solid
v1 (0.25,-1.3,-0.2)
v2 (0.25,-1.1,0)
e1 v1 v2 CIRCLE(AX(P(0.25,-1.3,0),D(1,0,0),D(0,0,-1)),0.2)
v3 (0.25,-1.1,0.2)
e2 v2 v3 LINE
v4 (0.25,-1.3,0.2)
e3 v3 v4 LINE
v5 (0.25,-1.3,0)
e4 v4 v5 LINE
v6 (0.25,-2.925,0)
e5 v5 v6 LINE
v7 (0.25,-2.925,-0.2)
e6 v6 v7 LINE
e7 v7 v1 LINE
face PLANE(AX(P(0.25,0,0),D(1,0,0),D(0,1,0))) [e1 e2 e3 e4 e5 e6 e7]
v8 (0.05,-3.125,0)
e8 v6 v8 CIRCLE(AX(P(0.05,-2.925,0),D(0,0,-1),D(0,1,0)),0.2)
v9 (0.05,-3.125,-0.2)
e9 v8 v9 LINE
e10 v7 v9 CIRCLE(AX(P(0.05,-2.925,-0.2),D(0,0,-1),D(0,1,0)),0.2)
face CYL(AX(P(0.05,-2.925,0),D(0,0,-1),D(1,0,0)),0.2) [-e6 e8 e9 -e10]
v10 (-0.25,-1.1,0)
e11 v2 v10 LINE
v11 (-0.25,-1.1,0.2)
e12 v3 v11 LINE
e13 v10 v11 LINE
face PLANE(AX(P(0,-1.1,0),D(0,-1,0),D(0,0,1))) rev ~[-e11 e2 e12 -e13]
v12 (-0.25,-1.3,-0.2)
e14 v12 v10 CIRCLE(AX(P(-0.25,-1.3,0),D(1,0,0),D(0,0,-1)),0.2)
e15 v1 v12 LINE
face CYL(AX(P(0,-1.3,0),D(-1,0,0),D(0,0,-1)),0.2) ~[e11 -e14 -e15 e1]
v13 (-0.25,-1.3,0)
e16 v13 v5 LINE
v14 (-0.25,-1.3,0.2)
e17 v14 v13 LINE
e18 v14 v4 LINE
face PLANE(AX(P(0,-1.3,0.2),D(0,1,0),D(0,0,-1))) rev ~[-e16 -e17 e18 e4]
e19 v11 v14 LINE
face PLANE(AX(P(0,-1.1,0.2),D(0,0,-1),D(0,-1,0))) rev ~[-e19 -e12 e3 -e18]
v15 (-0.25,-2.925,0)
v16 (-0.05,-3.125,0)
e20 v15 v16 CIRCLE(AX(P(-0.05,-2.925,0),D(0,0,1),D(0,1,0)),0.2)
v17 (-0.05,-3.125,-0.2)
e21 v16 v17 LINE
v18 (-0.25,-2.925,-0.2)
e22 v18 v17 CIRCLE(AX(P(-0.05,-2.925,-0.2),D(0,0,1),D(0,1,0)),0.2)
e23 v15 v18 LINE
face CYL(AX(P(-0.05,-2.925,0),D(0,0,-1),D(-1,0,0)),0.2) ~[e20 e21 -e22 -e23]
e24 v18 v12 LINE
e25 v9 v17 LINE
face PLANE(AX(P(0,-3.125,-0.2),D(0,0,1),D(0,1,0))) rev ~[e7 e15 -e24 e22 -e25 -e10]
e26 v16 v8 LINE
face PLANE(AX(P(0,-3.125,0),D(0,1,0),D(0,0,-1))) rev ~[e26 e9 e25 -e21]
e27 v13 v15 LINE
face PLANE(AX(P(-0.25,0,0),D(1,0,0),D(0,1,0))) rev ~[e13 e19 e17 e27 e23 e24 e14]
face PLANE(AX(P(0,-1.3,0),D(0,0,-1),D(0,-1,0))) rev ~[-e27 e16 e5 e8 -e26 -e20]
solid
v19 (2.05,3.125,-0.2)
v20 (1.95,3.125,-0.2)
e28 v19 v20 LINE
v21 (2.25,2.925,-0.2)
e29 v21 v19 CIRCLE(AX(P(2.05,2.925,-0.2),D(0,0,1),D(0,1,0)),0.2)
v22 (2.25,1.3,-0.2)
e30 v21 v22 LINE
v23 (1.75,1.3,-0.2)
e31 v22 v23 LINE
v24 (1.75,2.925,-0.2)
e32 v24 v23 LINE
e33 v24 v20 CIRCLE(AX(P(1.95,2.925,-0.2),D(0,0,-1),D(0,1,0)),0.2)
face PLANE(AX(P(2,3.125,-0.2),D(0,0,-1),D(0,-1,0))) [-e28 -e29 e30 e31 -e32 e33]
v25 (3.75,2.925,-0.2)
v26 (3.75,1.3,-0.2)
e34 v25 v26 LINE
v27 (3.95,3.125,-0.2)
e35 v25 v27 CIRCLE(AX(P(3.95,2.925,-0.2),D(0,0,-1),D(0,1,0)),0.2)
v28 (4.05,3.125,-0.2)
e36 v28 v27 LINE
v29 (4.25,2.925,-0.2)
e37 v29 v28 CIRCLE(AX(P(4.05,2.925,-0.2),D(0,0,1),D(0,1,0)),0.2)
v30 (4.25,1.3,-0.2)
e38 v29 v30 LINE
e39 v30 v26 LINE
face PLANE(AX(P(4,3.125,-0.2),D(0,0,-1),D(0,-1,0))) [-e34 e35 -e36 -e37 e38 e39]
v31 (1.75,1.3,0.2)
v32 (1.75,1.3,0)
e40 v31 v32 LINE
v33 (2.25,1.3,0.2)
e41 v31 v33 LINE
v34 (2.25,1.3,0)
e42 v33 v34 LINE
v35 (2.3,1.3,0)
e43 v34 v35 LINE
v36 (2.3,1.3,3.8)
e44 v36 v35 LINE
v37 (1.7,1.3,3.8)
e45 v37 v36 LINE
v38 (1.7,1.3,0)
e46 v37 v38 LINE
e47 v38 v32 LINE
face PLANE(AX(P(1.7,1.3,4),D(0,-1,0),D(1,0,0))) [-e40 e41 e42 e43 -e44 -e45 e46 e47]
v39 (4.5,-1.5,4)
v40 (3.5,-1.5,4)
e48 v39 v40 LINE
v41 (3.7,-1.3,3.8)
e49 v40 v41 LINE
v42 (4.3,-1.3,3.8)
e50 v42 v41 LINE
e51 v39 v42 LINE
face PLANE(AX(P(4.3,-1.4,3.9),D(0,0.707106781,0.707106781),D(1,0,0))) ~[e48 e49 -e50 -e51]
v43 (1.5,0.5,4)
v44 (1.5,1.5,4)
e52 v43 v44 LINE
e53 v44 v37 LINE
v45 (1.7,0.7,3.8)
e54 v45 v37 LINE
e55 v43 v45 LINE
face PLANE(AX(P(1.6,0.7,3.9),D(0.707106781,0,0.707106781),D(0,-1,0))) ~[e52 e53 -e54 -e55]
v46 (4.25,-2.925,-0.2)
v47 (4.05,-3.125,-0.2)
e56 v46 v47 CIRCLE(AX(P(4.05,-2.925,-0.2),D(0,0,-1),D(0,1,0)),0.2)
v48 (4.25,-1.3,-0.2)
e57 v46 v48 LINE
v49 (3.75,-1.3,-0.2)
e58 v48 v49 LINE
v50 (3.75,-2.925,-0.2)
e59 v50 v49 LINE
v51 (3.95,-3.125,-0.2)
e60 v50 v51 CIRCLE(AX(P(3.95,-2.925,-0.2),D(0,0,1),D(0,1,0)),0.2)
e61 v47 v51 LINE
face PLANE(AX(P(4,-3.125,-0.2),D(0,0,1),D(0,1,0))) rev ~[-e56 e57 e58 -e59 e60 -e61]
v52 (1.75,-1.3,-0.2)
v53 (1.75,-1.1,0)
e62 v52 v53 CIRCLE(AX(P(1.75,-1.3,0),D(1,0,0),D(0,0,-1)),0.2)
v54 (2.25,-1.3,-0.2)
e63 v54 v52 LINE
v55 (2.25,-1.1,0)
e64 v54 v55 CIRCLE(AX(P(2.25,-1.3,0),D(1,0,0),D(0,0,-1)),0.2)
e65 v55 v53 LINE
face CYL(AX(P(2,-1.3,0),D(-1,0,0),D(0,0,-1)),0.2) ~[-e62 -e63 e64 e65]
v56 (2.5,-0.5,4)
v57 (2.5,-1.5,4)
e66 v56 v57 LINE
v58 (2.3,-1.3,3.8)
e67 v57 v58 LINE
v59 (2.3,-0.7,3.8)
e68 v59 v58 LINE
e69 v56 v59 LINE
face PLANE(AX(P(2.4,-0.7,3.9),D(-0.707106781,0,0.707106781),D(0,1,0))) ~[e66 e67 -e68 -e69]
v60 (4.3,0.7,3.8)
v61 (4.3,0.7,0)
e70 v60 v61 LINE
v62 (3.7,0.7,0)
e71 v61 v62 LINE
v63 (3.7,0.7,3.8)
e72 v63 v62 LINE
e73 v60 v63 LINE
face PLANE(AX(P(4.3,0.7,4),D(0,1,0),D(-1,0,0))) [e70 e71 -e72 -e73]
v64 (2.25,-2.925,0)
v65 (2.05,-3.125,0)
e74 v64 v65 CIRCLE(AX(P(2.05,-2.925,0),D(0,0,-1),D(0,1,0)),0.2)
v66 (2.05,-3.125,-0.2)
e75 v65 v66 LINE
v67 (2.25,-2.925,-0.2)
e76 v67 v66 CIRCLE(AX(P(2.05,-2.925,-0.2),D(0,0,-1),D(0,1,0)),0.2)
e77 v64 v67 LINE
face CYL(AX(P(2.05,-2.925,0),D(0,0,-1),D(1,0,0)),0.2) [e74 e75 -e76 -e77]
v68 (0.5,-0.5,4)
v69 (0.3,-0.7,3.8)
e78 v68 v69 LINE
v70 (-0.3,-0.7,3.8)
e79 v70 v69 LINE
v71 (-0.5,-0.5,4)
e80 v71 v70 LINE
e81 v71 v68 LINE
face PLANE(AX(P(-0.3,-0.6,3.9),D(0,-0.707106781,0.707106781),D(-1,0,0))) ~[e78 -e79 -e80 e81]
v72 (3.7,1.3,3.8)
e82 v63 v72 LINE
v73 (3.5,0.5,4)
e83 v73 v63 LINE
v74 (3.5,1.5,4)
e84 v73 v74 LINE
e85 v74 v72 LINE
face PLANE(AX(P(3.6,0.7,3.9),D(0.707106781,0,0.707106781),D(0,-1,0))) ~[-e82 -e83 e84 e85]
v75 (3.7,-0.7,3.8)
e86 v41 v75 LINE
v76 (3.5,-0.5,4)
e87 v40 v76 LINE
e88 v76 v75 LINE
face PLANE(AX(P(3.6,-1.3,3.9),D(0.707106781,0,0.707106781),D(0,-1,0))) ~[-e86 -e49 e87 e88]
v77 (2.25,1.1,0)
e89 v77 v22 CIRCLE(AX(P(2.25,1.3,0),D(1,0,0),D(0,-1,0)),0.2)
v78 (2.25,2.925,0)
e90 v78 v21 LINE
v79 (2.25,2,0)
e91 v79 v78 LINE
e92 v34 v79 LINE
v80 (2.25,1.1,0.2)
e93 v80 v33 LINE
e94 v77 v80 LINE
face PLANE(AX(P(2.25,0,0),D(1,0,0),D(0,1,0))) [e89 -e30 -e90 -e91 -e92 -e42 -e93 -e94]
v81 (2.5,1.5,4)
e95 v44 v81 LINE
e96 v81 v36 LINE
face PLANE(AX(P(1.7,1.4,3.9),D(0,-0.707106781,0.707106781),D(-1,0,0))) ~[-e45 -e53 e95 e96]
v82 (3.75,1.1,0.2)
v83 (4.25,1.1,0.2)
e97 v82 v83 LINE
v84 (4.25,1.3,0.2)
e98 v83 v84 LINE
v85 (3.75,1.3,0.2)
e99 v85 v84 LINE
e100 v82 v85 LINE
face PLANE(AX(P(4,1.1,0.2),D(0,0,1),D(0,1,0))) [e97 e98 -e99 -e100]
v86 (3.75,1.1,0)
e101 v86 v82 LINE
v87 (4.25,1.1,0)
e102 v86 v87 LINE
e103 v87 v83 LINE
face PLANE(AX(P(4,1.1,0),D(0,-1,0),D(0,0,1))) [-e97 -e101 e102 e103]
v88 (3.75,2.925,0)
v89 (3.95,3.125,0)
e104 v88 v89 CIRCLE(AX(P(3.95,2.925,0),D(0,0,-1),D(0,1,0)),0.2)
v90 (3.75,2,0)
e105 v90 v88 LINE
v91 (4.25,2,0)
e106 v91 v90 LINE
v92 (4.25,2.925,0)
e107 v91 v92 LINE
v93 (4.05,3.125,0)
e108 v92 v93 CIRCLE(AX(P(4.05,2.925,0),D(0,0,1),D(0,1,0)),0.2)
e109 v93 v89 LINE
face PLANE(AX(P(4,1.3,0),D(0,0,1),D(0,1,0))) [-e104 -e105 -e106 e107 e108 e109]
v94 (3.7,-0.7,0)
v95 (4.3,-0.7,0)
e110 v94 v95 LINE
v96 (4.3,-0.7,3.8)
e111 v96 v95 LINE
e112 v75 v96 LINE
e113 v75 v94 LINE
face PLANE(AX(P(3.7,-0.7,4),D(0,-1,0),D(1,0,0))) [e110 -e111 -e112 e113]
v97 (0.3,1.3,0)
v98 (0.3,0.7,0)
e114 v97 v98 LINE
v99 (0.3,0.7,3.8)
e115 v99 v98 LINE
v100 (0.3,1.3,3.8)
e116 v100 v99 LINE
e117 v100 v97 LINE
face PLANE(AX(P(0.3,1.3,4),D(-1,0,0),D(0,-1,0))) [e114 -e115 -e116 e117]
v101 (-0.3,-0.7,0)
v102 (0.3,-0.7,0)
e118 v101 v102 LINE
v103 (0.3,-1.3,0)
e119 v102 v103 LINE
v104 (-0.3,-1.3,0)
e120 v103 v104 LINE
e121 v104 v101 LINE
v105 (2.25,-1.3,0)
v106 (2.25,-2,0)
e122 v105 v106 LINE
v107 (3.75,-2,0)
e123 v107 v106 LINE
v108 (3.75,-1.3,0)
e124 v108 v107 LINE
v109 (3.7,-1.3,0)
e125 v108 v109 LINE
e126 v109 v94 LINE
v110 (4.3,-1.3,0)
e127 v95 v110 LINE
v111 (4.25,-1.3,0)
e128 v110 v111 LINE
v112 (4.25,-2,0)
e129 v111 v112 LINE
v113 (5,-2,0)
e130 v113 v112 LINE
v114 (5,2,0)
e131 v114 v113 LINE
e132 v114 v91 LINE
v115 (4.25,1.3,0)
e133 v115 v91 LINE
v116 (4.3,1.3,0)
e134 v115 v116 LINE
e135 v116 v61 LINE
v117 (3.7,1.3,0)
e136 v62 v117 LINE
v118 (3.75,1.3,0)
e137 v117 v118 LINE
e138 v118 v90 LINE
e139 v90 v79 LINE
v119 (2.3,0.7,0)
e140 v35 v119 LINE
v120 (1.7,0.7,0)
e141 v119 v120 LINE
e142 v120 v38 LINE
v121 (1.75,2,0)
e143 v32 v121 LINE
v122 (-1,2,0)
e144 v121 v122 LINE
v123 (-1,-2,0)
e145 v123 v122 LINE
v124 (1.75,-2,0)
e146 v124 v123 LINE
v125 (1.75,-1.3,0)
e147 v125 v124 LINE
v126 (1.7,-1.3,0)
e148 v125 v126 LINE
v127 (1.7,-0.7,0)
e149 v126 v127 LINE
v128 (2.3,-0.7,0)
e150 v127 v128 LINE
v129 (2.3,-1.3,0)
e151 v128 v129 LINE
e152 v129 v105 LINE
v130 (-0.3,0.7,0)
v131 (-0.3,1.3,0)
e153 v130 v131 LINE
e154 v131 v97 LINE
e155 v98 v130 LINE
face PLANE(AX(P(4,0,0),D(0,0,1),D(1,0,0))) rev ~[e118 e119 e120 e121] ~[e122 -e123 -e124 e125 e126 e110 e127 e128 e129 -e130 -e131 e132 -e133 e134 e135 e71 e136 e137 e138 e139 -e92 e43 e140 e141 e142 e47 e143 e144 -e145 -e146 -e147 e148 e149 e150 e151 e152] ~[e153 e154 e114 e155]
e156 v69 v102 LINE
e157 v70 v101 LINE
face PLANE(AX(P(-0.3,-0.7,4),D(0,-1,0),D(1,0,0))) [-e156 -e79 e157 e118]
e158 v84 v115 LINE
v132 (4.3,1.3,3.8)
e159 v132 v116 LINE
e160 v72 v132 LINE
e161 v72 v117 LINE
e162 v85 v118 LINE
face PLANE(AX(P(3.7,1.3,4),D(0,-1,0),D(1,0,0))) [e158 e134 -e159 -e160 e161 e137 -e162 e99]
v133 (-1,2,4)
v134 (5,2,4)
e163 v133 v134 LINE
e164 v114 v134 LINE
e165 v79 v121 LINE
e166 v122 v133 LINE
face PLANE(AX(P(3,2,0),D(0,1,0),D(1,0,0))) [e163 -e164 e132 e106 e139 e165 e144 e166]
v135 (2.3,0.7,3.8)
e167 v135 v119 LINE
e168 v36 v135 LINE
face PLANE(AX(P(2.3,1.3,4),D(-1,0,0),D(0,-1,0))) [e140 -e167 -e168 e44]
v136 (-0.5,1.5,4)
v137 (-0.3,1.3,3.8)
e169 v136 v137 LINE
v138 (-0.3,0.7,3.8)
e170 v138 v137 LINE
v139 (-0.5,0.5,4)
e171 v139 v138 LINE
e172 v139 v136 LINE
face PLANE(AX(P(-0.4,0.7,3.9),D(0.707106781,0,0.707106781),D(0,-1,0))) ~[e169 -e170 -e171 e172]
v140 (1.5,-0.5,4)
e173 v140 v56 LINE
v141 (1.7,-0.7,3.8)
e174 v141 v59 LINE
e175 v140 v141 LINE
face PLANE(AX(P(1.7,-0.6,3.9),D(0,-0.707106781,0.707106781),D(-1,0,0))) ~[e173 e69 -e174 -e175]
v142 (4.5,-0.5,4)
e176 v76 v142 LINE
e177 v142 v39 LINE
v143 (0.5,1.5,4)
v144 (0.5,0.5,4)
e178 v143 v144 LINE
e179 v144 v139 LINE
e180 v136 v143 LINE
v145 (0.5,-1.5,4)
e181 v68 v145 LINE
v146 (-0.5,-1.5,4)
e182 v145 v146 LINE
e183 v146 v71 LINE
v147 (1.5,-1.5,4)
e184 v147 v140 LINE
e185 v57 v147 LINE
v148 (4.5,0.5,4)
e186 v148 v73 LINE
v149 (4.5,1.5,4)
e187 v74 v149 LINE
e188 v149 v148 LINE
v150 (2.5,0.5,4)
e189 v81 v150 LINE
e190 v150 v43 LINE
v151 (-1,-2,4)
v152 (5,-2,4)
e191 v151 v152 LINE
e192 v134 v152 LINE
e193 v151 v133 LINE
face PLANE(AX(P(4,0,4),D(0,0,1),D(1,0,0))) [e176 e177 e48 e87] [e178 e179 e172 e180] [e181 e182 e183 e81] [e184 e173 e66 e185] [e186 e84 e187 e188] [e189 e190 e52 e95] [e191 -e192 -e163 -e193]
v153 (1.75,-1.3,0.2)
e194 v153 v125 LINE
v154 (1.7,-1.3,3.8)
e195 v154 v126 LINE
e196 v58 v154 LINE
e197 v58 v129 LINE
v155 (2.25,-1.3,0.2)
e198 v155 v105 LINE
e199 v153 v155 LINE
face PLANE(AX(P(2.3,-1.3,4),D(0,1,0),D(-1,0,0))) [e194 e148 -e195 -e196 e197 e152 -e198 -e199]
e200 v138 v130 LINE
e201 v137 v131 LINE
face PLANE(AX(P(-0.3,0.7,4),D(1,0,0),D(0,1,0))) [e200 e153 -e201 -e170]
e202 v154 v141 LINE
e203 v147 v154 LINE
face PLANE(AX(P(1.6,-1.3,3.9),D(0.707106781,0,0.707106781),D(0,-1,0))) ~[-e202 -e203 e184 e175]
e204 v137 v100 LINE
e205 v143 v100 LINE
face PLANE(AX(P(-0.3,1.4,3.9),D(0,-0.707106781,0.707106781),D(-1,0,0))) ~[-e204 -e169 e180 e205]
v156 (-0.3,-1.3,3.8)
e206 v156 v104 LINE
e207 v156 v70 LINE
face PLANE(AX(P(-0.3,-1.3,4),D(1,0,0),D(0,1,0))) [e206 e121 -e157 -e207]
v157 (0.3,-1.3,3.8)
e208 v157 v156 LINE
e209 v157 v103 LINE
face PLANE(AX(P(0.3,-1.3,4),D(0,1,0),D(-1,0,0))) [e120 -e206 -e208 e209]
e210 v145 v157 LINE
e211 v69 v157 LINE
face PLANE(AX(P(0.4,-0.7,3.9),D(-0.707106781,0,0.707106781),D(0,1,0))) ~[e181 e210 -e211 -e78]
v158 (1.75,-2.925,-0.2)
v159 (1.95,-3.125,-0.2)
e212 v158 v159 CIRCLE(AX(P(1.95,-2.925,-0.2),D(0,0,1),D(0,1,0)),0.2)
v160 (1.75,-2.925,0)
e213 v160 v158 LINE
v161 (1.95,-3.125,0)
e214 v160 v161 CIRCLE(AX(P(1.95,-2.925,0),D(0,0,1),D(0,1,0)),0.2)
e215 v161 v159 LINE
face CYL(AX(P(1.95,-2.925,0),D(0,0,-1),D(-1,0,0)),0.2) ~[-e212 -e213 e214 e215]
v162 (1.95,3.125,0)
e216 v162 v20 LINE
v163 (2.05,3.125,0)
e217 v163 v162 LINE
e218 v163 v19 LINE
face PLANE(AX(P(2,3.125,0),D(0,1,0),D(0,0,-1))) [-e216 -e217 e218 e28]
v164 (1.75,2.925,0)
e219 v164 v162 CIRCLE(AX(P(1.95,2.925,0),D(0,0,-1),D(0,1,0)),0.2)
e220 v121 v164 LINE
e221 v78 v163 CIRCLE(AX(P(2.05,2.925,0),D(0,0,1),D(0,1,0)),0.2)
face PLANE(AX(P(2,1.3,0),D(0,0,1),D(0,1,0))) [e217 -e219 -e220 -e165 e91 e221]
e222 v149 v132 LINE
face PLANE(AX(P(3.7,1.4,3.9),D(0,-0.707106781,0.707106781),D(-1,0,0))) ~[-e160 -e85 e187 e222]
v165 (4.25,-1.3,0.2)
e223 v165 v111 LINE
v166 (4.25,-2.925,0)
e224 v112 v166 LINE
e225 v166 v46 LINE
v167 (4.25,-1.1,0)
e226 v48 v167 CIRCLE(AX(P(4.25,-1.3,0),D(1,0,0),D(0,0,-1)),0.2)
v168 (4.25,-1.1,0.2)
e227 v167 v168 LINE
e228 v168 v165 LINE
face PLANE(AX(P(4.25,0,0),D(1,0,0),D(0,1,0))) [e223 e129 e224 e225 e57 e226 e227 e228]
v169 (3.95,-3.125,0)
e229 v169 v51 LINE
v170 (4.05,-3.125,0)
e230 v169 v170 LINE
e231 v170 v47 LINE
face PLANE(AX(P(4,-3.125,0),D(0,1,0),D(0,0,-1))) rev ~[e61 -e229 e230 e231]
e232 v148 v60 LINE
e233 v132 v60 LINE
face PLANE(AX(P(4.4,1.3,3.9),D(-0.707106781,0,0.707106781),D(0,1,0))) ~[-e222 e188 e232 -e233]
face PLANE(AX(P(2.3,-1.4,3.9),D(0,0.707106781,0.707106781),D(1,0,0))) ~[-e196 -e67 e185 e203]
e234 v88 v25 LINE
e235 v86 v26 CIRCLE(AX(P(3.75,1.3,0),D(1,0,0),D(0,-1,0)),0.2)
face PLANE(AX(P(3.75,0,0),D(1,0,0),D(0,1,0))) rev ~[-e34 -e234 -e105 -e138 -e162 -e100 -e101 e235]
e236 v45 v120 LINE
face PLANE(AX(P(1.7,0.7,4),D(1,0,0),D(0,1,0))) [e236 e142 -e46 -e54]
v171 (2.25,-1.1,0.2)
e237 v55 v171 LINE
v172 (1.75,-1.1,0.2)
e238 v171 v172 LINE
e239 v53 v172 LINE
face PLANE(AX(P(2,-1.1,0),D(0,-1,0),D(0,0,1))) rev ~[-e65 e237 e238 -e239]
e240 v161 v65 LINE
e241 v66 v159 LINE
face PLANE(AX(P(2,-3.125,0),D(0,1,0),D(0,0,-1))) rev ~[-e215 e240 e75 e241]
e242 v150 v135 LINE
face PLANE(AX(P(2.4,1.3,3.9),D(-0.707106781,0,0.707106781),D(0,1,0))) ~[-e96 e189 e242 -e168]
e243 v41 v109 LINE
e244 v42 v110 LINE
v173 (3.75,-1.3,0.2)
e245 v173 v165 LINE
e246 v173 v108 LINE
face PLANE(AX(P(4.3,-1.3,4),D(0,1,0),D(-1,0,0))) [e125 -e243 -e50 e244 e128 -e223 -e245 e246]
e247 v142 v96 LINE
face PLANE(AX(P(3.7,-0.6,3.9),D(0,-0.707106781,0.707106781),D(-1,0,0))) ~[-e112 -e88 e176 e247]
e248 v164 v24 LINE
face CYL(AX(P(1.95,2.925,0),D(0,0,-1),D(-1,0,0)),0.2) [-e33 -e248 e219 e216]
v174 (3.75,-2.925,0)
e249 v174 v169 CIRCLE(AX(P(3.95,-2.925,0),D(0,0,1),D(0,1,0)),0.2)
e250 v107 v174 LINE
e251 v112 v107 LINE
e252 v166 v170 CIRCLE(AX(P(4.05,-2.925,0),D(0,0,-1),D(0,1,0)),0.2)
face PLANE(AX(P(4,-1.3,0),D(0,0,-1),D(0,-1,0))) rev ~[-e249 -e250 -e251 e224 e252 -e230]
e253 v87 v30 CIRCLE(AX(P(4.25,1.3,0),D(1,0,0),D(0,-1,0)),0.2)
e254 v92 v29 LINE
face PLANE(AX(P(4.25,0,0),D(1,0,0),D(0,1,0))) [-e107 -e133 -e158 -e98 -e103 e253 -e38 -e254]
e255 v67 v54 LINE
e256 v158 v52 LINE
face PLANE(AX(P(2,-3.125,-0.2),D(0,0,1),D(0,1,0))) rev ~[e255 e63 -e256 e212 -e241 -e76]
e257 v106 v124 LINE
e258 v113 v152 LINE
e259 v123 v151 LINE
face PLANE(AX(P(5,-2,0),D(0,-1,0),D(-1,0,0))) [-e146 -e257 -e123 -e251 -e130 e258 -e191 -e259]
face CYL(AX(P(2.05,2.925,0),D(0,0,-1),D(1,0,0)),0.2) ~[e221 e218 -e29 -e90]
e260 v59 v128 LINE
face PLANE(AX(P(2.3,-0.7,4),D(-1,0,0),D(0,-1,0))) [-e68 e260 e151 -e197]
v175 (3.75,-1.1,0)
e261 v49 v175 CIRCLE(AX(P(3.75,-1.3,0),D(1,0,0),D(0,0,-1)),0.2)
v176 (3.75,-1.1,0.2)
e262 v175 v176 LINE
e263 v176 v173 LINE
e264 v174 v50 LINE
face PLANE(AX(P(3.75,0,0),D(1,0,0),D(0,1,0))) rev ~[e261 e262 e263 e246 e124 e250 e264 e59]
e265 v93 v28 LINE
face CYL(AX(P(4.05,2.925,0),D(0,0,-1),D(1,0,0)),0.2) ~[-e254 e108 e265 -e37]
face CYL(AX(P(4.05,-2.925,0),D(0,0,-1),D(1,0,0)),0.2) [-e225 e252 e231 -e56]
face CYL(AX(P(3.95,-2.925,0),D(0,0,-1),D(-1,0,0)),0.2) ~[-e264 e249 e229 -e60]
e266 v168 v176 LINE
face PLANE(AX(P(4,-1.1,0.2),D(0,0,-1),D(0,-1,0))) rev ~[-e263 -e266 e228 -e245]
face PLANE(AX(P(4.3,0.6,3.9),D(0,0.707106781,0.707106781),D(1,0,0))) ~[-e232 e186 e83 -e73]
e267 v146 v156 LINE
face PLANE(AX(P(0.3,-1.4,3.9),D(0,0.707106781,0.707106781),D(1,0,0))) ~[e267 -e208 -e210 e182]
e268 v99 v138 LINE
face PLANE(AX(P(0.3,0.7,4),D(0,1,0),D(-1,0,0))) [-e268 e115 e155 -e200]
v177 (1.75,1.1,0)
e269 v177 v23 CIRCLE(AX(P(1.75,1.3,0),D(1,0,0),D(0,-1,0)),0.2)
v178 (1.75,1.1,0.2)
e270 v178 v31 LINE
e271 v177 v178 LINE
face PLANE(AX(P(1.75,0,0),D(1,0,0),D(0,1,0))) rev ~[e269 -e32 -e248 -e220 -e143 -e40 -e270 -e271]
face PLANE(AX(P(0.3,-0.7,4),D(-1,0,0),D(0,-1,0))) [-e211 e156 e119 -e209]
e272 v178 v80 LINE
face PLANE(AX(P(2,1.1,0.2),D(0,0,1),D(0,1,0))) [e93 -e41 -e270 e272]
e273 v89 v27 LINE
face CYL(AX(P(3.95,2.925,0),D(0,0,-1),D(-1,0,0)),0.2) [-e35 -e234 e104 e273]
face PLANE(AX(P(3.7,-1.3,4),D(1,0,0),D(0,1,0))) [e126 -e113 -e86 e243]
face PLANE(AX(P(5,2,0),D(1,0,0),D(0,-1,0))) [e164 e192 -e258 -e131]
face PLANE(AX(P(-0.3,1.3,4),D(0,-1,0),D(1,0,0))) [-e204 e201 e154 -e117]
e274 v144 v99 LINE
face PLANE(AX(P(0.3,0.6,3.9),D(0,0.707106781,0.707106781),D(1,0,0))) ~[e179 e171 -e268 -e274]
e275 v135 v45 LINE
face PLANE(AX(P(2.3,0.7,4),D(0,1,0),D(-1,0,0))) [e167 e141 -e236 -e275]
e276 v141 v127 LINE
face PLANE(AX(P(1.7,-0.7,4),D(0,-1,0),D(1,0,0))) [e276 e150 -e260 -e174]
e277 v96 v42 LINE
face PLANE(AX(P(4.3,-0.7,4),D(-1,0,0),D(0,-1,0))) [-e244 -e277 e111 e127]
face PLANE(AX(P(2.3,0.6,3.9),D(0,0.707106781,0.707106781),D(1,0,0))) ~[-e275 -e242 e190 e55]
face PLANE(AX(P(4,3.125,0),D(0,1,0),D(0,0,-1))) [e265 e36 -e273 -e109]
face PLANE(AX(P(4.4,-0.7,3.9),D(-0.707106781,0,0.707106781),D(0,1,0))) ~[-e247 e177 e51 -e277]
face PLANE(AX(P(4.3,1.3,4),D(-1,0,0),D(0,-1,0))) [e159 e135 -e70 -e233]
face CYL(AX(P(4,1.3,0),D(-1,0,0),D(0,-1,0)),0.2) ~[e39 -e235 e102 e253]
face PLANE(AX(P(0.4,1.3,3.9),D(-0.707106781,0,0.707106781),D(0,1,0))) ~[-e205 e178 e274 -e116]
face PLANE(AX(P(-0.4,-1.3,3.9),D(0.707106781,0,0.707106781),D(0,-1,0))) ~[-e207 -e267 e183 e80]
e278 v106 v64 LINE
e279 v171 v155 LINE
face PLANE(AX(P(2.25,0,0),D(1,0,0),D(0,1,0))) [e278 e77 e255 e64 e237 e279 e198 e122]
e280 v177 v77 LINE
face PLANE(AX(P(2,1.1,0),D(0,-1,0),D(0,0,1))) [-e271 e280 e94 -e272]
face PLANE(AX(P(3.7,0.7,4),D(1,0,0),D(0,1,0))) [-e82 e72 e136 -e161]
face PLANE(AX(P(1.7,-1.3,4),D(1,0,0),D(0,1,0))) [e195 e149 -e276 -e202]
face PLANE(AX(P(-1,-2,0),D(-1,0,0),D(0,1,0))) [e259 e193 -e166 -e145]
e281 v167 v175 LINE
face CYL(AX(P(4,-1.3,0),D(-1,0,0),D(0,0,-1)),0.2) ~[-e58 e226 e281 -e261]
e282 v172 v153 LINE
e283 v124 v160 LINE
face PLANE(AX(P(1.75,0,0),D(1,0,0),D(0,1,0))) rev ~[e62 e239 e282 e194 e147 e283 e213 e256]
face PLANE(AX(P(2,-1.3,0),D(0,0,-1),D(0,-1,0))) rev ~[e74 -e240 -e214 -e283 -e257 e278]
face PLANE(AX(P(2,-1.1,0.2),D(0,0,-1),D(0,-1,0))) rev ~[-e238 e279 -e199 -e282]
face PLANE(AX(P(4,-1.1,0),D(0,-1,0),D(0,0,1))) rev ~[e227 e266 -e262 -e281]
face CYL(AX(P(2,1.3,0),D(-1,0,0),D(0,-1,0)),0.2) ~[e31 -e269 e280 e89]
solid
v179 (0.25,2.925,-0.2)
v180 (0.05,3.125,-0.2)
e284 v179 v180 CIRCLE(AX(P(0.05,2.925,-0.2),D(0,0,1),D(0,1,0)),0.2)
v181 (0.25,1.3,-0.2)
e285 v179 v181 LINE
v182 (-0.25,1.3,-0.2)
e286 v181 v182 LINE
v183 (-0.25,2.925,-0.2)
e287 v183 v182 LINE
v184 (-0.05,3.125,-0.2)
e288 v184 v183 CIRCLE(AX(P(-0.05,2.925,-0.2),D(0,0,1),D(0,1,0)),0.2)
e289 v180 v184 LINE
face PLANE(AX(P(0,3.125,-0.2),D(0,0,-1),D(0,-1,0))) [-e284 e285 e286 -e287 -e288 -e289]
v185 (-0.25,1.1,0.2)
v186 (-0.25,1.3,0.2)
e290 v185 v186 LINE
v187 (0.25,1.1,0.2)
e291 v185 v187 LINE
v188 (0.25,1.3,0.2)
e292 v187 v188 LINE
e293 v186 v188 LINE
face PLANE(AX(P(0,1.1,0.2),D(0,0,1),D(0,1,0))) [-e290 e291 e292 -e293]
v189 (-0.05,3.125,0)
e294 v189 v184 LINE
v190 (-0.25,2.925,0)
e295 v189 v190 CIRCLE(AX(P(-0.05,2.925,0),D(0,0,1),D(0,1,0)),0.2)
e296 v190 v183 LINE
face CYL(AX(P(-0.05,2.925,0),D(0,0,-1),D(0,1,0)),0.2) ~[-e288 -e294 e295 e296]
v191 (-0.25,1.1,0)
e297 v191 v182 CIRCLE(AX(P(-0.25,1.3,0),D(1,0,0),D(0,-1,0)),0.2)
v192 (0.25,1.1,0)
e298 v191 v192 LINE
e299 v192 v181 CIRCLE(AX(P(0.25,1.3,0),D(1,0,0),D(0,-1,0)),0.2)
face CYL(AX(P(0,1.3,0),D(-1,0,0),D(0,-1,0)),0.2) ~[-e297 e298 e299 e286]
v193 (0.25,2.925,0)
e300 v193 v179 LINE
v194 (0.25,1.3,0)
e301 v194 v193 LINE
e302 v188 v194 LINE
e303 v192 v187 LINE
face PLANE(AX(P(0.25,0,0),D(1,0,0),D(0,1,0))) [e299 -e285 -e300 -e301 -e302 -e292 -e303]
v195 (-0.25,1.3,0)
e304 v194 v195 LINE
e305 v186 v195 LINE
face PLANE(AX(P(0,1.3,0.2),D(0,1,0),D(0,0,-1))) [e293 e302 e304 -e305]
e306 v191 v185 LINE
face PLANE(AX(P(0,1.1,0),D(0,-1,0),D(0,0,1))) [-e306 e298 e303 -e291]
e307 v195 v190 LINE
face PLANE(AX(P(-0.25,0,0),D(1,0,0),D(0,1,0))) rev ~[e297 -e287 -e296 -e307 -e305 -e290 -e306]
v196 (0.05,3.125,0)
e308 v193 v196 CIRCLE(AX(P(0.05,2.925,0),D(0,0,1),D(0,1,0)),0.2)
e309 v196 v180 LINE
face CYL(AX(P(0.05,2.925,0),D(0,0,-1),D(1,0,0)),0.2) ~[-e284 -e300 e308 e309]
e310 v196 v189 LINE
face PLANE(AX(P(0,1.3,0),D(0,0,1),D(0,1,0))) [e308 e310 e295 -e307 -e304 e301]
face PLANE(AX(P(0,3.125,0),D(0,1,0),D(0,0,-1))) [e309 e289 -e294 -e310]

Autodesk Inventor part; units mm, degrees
ref_plane "YZ Plane" through (0, 0, 0) normal (1, 0, 0) x (0, 1, 0)
ref_plane "XZ Plane" through (0, 0, 0) normal (0, 1, 0) x (-1, 0, 0)
ref_plane "XY Plane" through (0, 0, 0) normal (0, 0, 1) x (1, 0, 0)
sketch "Boceto39" plane through (0, 0, 0) normal (0, 0, 1) x (1, 0, 0)
  line L0 (-1, 2) -> (1, 2)
  line L1 (1, 2) -> (1, -2)
  line L2 (1, -2) -> (-1, -2)
  line L3 (-1, -2) -> (-1, 2)
  point P0 (0, 0)
  point P1 (0, 2)
  point P2 (-1, 0)
  dimension "d373" = 4
  dimension "d374" = 2
extrude "Extrusión13" add sketch "Boceto39" along normal blind 4
sketch "Boceto41" plane through (0, 0, 4) normal (0, 0, 1) x (1, 0, 0)
  line L0 (1, 2) -> (-1, 2) projected
  line L1 (-1, 2) -> (-1, -2) projected
  line L2 (-1, -2) -> (1, -2) projected
  line L3 (1, -2) -> (1, 2) projected
  line L4 (-0.3, 1.3) -> (0.3, 1.3)
  line L5 (0.3, 1.3) -> (0.3, 0.7)
  line L6 (0.3, 0.7) -> (-0.3, 0.7)
  line L7 (-0.3, 0.7) -> (-0.3, 1.3)
  line L8 (-0.3, -0.7) -> (0.3, -0.7)
  line L9 (0.3, -0.7) -> (0.3, -1.3)
  line L10 (0.3, -1.3) -> (-0.3, -1.3)
  line L11 (-0.3, -1.3) -> (-0.3, -0.7)
  line L12 (-0.3, 1) -> (0.3, 1) construction
  line L13 (0.3, -1) -> (-0.3, -1) construction
  line L14 (1, 2) -> (-1, 2) projected
  line L15 (-1, -2) -> (1, -2) projected
  point P0 (0, 0)
  point P1 (0, -0.7)
  point P2 (0, 0.7)
  dimension "d384" = 2
  dimension "d387" = 1
  dimension "d390" = 0.6
extrude "Extrusión14" cut sketch "Boceto41" against normal blind 4 contours L4 L5 L6 L7 | L8 L9 L10 L11
chamfer "Chaflán5" distance 0.2 angle 45 8 edges at (-0.3, 1, 4) (0, 1.3, 4) (0.3, 1, 4) (0, 0.7, 4) (0, -0.7, 4) (-0.3, -1, 4) (0, -1.3, 4) (0.3, -1, 4)
sketch "Boceto42" plane through (0, 0, 0) normal (1, 0, 0) x (0, 1, 0)
  line L0 (-2, 0) -> (2, 0) construction
  line L1 (1.3, 0) -> (0.7, 0) construction
  line L2 (1.3, 3.8) -> (1.3, 0) projected
  line L3 (1.3, 0.2) -> (1.3, 0)
  line L4 (1.3, 0) -> (3.125, 0)
  line L5 (3.125, 0) -> (3.125, -0.2)
  line L6 (3.125, -0.2) -> (1.3, -0.2)
  line L7 (1.1, 0) -> (1.1, 0.2)
  line L8 (1.1, 0.2) -> (1.3, 0.2)
  arc A0 (1.1, 0) -> (1.3, -0.2) centre (1.3, 0) ccw
  line L9 (-1.3, 0.2) -> (-1.3, 0)
  line L10 (-1.3, 3.8) -> (-1.3, 0) projected
  line L11 (-1.3, 0) -> (-3.125, 0)
  line L12 (-3.125, 0) -> (-3.125, -0.2)
  line L13 (-3.125, -0.2) -> (-1.3, -0.2)
  line L14 (-1.1, 0) -> (-1.1, 0.2)
  line L15 (-1.1, 0.2) -> (-1.3, 0.2)
  arc A1 (-1.3, -0.2) -> (-1.1, 0) centre (-1.3, 0) ccw
  point P0 (0, 0)
  dimension "d401" = 0.2
  dimension "d402" = 0.2
  dimension "d403" = 0.2
  dimension "d404" = 0.2
  dimension "d405" = 6.25
  dimension "d406" = 3.125
  dimension "d407" = 0.2
extrude "Extrusión15" add sketch "Boceto42" along normal mid plane 0.5 separate body
fillet "Empalme44" radius 0.2 4 edges at (0.25, -3.125, -0.1) (-0.25, -3.125, -0.1) (0.25, 3.125, -0.1) (-0.25, 3.125, -0.1)
pattern_linear "Patrón rectangular1" count 3 spacing 2 along (1, 0, 0) of "Extrusión13", "Extrusión14", "Chaflán5", "Extrusión15", "Empalme44" bodies 1
properties part number "CON-IDC-HE-SMD-2X3-P2MM"
